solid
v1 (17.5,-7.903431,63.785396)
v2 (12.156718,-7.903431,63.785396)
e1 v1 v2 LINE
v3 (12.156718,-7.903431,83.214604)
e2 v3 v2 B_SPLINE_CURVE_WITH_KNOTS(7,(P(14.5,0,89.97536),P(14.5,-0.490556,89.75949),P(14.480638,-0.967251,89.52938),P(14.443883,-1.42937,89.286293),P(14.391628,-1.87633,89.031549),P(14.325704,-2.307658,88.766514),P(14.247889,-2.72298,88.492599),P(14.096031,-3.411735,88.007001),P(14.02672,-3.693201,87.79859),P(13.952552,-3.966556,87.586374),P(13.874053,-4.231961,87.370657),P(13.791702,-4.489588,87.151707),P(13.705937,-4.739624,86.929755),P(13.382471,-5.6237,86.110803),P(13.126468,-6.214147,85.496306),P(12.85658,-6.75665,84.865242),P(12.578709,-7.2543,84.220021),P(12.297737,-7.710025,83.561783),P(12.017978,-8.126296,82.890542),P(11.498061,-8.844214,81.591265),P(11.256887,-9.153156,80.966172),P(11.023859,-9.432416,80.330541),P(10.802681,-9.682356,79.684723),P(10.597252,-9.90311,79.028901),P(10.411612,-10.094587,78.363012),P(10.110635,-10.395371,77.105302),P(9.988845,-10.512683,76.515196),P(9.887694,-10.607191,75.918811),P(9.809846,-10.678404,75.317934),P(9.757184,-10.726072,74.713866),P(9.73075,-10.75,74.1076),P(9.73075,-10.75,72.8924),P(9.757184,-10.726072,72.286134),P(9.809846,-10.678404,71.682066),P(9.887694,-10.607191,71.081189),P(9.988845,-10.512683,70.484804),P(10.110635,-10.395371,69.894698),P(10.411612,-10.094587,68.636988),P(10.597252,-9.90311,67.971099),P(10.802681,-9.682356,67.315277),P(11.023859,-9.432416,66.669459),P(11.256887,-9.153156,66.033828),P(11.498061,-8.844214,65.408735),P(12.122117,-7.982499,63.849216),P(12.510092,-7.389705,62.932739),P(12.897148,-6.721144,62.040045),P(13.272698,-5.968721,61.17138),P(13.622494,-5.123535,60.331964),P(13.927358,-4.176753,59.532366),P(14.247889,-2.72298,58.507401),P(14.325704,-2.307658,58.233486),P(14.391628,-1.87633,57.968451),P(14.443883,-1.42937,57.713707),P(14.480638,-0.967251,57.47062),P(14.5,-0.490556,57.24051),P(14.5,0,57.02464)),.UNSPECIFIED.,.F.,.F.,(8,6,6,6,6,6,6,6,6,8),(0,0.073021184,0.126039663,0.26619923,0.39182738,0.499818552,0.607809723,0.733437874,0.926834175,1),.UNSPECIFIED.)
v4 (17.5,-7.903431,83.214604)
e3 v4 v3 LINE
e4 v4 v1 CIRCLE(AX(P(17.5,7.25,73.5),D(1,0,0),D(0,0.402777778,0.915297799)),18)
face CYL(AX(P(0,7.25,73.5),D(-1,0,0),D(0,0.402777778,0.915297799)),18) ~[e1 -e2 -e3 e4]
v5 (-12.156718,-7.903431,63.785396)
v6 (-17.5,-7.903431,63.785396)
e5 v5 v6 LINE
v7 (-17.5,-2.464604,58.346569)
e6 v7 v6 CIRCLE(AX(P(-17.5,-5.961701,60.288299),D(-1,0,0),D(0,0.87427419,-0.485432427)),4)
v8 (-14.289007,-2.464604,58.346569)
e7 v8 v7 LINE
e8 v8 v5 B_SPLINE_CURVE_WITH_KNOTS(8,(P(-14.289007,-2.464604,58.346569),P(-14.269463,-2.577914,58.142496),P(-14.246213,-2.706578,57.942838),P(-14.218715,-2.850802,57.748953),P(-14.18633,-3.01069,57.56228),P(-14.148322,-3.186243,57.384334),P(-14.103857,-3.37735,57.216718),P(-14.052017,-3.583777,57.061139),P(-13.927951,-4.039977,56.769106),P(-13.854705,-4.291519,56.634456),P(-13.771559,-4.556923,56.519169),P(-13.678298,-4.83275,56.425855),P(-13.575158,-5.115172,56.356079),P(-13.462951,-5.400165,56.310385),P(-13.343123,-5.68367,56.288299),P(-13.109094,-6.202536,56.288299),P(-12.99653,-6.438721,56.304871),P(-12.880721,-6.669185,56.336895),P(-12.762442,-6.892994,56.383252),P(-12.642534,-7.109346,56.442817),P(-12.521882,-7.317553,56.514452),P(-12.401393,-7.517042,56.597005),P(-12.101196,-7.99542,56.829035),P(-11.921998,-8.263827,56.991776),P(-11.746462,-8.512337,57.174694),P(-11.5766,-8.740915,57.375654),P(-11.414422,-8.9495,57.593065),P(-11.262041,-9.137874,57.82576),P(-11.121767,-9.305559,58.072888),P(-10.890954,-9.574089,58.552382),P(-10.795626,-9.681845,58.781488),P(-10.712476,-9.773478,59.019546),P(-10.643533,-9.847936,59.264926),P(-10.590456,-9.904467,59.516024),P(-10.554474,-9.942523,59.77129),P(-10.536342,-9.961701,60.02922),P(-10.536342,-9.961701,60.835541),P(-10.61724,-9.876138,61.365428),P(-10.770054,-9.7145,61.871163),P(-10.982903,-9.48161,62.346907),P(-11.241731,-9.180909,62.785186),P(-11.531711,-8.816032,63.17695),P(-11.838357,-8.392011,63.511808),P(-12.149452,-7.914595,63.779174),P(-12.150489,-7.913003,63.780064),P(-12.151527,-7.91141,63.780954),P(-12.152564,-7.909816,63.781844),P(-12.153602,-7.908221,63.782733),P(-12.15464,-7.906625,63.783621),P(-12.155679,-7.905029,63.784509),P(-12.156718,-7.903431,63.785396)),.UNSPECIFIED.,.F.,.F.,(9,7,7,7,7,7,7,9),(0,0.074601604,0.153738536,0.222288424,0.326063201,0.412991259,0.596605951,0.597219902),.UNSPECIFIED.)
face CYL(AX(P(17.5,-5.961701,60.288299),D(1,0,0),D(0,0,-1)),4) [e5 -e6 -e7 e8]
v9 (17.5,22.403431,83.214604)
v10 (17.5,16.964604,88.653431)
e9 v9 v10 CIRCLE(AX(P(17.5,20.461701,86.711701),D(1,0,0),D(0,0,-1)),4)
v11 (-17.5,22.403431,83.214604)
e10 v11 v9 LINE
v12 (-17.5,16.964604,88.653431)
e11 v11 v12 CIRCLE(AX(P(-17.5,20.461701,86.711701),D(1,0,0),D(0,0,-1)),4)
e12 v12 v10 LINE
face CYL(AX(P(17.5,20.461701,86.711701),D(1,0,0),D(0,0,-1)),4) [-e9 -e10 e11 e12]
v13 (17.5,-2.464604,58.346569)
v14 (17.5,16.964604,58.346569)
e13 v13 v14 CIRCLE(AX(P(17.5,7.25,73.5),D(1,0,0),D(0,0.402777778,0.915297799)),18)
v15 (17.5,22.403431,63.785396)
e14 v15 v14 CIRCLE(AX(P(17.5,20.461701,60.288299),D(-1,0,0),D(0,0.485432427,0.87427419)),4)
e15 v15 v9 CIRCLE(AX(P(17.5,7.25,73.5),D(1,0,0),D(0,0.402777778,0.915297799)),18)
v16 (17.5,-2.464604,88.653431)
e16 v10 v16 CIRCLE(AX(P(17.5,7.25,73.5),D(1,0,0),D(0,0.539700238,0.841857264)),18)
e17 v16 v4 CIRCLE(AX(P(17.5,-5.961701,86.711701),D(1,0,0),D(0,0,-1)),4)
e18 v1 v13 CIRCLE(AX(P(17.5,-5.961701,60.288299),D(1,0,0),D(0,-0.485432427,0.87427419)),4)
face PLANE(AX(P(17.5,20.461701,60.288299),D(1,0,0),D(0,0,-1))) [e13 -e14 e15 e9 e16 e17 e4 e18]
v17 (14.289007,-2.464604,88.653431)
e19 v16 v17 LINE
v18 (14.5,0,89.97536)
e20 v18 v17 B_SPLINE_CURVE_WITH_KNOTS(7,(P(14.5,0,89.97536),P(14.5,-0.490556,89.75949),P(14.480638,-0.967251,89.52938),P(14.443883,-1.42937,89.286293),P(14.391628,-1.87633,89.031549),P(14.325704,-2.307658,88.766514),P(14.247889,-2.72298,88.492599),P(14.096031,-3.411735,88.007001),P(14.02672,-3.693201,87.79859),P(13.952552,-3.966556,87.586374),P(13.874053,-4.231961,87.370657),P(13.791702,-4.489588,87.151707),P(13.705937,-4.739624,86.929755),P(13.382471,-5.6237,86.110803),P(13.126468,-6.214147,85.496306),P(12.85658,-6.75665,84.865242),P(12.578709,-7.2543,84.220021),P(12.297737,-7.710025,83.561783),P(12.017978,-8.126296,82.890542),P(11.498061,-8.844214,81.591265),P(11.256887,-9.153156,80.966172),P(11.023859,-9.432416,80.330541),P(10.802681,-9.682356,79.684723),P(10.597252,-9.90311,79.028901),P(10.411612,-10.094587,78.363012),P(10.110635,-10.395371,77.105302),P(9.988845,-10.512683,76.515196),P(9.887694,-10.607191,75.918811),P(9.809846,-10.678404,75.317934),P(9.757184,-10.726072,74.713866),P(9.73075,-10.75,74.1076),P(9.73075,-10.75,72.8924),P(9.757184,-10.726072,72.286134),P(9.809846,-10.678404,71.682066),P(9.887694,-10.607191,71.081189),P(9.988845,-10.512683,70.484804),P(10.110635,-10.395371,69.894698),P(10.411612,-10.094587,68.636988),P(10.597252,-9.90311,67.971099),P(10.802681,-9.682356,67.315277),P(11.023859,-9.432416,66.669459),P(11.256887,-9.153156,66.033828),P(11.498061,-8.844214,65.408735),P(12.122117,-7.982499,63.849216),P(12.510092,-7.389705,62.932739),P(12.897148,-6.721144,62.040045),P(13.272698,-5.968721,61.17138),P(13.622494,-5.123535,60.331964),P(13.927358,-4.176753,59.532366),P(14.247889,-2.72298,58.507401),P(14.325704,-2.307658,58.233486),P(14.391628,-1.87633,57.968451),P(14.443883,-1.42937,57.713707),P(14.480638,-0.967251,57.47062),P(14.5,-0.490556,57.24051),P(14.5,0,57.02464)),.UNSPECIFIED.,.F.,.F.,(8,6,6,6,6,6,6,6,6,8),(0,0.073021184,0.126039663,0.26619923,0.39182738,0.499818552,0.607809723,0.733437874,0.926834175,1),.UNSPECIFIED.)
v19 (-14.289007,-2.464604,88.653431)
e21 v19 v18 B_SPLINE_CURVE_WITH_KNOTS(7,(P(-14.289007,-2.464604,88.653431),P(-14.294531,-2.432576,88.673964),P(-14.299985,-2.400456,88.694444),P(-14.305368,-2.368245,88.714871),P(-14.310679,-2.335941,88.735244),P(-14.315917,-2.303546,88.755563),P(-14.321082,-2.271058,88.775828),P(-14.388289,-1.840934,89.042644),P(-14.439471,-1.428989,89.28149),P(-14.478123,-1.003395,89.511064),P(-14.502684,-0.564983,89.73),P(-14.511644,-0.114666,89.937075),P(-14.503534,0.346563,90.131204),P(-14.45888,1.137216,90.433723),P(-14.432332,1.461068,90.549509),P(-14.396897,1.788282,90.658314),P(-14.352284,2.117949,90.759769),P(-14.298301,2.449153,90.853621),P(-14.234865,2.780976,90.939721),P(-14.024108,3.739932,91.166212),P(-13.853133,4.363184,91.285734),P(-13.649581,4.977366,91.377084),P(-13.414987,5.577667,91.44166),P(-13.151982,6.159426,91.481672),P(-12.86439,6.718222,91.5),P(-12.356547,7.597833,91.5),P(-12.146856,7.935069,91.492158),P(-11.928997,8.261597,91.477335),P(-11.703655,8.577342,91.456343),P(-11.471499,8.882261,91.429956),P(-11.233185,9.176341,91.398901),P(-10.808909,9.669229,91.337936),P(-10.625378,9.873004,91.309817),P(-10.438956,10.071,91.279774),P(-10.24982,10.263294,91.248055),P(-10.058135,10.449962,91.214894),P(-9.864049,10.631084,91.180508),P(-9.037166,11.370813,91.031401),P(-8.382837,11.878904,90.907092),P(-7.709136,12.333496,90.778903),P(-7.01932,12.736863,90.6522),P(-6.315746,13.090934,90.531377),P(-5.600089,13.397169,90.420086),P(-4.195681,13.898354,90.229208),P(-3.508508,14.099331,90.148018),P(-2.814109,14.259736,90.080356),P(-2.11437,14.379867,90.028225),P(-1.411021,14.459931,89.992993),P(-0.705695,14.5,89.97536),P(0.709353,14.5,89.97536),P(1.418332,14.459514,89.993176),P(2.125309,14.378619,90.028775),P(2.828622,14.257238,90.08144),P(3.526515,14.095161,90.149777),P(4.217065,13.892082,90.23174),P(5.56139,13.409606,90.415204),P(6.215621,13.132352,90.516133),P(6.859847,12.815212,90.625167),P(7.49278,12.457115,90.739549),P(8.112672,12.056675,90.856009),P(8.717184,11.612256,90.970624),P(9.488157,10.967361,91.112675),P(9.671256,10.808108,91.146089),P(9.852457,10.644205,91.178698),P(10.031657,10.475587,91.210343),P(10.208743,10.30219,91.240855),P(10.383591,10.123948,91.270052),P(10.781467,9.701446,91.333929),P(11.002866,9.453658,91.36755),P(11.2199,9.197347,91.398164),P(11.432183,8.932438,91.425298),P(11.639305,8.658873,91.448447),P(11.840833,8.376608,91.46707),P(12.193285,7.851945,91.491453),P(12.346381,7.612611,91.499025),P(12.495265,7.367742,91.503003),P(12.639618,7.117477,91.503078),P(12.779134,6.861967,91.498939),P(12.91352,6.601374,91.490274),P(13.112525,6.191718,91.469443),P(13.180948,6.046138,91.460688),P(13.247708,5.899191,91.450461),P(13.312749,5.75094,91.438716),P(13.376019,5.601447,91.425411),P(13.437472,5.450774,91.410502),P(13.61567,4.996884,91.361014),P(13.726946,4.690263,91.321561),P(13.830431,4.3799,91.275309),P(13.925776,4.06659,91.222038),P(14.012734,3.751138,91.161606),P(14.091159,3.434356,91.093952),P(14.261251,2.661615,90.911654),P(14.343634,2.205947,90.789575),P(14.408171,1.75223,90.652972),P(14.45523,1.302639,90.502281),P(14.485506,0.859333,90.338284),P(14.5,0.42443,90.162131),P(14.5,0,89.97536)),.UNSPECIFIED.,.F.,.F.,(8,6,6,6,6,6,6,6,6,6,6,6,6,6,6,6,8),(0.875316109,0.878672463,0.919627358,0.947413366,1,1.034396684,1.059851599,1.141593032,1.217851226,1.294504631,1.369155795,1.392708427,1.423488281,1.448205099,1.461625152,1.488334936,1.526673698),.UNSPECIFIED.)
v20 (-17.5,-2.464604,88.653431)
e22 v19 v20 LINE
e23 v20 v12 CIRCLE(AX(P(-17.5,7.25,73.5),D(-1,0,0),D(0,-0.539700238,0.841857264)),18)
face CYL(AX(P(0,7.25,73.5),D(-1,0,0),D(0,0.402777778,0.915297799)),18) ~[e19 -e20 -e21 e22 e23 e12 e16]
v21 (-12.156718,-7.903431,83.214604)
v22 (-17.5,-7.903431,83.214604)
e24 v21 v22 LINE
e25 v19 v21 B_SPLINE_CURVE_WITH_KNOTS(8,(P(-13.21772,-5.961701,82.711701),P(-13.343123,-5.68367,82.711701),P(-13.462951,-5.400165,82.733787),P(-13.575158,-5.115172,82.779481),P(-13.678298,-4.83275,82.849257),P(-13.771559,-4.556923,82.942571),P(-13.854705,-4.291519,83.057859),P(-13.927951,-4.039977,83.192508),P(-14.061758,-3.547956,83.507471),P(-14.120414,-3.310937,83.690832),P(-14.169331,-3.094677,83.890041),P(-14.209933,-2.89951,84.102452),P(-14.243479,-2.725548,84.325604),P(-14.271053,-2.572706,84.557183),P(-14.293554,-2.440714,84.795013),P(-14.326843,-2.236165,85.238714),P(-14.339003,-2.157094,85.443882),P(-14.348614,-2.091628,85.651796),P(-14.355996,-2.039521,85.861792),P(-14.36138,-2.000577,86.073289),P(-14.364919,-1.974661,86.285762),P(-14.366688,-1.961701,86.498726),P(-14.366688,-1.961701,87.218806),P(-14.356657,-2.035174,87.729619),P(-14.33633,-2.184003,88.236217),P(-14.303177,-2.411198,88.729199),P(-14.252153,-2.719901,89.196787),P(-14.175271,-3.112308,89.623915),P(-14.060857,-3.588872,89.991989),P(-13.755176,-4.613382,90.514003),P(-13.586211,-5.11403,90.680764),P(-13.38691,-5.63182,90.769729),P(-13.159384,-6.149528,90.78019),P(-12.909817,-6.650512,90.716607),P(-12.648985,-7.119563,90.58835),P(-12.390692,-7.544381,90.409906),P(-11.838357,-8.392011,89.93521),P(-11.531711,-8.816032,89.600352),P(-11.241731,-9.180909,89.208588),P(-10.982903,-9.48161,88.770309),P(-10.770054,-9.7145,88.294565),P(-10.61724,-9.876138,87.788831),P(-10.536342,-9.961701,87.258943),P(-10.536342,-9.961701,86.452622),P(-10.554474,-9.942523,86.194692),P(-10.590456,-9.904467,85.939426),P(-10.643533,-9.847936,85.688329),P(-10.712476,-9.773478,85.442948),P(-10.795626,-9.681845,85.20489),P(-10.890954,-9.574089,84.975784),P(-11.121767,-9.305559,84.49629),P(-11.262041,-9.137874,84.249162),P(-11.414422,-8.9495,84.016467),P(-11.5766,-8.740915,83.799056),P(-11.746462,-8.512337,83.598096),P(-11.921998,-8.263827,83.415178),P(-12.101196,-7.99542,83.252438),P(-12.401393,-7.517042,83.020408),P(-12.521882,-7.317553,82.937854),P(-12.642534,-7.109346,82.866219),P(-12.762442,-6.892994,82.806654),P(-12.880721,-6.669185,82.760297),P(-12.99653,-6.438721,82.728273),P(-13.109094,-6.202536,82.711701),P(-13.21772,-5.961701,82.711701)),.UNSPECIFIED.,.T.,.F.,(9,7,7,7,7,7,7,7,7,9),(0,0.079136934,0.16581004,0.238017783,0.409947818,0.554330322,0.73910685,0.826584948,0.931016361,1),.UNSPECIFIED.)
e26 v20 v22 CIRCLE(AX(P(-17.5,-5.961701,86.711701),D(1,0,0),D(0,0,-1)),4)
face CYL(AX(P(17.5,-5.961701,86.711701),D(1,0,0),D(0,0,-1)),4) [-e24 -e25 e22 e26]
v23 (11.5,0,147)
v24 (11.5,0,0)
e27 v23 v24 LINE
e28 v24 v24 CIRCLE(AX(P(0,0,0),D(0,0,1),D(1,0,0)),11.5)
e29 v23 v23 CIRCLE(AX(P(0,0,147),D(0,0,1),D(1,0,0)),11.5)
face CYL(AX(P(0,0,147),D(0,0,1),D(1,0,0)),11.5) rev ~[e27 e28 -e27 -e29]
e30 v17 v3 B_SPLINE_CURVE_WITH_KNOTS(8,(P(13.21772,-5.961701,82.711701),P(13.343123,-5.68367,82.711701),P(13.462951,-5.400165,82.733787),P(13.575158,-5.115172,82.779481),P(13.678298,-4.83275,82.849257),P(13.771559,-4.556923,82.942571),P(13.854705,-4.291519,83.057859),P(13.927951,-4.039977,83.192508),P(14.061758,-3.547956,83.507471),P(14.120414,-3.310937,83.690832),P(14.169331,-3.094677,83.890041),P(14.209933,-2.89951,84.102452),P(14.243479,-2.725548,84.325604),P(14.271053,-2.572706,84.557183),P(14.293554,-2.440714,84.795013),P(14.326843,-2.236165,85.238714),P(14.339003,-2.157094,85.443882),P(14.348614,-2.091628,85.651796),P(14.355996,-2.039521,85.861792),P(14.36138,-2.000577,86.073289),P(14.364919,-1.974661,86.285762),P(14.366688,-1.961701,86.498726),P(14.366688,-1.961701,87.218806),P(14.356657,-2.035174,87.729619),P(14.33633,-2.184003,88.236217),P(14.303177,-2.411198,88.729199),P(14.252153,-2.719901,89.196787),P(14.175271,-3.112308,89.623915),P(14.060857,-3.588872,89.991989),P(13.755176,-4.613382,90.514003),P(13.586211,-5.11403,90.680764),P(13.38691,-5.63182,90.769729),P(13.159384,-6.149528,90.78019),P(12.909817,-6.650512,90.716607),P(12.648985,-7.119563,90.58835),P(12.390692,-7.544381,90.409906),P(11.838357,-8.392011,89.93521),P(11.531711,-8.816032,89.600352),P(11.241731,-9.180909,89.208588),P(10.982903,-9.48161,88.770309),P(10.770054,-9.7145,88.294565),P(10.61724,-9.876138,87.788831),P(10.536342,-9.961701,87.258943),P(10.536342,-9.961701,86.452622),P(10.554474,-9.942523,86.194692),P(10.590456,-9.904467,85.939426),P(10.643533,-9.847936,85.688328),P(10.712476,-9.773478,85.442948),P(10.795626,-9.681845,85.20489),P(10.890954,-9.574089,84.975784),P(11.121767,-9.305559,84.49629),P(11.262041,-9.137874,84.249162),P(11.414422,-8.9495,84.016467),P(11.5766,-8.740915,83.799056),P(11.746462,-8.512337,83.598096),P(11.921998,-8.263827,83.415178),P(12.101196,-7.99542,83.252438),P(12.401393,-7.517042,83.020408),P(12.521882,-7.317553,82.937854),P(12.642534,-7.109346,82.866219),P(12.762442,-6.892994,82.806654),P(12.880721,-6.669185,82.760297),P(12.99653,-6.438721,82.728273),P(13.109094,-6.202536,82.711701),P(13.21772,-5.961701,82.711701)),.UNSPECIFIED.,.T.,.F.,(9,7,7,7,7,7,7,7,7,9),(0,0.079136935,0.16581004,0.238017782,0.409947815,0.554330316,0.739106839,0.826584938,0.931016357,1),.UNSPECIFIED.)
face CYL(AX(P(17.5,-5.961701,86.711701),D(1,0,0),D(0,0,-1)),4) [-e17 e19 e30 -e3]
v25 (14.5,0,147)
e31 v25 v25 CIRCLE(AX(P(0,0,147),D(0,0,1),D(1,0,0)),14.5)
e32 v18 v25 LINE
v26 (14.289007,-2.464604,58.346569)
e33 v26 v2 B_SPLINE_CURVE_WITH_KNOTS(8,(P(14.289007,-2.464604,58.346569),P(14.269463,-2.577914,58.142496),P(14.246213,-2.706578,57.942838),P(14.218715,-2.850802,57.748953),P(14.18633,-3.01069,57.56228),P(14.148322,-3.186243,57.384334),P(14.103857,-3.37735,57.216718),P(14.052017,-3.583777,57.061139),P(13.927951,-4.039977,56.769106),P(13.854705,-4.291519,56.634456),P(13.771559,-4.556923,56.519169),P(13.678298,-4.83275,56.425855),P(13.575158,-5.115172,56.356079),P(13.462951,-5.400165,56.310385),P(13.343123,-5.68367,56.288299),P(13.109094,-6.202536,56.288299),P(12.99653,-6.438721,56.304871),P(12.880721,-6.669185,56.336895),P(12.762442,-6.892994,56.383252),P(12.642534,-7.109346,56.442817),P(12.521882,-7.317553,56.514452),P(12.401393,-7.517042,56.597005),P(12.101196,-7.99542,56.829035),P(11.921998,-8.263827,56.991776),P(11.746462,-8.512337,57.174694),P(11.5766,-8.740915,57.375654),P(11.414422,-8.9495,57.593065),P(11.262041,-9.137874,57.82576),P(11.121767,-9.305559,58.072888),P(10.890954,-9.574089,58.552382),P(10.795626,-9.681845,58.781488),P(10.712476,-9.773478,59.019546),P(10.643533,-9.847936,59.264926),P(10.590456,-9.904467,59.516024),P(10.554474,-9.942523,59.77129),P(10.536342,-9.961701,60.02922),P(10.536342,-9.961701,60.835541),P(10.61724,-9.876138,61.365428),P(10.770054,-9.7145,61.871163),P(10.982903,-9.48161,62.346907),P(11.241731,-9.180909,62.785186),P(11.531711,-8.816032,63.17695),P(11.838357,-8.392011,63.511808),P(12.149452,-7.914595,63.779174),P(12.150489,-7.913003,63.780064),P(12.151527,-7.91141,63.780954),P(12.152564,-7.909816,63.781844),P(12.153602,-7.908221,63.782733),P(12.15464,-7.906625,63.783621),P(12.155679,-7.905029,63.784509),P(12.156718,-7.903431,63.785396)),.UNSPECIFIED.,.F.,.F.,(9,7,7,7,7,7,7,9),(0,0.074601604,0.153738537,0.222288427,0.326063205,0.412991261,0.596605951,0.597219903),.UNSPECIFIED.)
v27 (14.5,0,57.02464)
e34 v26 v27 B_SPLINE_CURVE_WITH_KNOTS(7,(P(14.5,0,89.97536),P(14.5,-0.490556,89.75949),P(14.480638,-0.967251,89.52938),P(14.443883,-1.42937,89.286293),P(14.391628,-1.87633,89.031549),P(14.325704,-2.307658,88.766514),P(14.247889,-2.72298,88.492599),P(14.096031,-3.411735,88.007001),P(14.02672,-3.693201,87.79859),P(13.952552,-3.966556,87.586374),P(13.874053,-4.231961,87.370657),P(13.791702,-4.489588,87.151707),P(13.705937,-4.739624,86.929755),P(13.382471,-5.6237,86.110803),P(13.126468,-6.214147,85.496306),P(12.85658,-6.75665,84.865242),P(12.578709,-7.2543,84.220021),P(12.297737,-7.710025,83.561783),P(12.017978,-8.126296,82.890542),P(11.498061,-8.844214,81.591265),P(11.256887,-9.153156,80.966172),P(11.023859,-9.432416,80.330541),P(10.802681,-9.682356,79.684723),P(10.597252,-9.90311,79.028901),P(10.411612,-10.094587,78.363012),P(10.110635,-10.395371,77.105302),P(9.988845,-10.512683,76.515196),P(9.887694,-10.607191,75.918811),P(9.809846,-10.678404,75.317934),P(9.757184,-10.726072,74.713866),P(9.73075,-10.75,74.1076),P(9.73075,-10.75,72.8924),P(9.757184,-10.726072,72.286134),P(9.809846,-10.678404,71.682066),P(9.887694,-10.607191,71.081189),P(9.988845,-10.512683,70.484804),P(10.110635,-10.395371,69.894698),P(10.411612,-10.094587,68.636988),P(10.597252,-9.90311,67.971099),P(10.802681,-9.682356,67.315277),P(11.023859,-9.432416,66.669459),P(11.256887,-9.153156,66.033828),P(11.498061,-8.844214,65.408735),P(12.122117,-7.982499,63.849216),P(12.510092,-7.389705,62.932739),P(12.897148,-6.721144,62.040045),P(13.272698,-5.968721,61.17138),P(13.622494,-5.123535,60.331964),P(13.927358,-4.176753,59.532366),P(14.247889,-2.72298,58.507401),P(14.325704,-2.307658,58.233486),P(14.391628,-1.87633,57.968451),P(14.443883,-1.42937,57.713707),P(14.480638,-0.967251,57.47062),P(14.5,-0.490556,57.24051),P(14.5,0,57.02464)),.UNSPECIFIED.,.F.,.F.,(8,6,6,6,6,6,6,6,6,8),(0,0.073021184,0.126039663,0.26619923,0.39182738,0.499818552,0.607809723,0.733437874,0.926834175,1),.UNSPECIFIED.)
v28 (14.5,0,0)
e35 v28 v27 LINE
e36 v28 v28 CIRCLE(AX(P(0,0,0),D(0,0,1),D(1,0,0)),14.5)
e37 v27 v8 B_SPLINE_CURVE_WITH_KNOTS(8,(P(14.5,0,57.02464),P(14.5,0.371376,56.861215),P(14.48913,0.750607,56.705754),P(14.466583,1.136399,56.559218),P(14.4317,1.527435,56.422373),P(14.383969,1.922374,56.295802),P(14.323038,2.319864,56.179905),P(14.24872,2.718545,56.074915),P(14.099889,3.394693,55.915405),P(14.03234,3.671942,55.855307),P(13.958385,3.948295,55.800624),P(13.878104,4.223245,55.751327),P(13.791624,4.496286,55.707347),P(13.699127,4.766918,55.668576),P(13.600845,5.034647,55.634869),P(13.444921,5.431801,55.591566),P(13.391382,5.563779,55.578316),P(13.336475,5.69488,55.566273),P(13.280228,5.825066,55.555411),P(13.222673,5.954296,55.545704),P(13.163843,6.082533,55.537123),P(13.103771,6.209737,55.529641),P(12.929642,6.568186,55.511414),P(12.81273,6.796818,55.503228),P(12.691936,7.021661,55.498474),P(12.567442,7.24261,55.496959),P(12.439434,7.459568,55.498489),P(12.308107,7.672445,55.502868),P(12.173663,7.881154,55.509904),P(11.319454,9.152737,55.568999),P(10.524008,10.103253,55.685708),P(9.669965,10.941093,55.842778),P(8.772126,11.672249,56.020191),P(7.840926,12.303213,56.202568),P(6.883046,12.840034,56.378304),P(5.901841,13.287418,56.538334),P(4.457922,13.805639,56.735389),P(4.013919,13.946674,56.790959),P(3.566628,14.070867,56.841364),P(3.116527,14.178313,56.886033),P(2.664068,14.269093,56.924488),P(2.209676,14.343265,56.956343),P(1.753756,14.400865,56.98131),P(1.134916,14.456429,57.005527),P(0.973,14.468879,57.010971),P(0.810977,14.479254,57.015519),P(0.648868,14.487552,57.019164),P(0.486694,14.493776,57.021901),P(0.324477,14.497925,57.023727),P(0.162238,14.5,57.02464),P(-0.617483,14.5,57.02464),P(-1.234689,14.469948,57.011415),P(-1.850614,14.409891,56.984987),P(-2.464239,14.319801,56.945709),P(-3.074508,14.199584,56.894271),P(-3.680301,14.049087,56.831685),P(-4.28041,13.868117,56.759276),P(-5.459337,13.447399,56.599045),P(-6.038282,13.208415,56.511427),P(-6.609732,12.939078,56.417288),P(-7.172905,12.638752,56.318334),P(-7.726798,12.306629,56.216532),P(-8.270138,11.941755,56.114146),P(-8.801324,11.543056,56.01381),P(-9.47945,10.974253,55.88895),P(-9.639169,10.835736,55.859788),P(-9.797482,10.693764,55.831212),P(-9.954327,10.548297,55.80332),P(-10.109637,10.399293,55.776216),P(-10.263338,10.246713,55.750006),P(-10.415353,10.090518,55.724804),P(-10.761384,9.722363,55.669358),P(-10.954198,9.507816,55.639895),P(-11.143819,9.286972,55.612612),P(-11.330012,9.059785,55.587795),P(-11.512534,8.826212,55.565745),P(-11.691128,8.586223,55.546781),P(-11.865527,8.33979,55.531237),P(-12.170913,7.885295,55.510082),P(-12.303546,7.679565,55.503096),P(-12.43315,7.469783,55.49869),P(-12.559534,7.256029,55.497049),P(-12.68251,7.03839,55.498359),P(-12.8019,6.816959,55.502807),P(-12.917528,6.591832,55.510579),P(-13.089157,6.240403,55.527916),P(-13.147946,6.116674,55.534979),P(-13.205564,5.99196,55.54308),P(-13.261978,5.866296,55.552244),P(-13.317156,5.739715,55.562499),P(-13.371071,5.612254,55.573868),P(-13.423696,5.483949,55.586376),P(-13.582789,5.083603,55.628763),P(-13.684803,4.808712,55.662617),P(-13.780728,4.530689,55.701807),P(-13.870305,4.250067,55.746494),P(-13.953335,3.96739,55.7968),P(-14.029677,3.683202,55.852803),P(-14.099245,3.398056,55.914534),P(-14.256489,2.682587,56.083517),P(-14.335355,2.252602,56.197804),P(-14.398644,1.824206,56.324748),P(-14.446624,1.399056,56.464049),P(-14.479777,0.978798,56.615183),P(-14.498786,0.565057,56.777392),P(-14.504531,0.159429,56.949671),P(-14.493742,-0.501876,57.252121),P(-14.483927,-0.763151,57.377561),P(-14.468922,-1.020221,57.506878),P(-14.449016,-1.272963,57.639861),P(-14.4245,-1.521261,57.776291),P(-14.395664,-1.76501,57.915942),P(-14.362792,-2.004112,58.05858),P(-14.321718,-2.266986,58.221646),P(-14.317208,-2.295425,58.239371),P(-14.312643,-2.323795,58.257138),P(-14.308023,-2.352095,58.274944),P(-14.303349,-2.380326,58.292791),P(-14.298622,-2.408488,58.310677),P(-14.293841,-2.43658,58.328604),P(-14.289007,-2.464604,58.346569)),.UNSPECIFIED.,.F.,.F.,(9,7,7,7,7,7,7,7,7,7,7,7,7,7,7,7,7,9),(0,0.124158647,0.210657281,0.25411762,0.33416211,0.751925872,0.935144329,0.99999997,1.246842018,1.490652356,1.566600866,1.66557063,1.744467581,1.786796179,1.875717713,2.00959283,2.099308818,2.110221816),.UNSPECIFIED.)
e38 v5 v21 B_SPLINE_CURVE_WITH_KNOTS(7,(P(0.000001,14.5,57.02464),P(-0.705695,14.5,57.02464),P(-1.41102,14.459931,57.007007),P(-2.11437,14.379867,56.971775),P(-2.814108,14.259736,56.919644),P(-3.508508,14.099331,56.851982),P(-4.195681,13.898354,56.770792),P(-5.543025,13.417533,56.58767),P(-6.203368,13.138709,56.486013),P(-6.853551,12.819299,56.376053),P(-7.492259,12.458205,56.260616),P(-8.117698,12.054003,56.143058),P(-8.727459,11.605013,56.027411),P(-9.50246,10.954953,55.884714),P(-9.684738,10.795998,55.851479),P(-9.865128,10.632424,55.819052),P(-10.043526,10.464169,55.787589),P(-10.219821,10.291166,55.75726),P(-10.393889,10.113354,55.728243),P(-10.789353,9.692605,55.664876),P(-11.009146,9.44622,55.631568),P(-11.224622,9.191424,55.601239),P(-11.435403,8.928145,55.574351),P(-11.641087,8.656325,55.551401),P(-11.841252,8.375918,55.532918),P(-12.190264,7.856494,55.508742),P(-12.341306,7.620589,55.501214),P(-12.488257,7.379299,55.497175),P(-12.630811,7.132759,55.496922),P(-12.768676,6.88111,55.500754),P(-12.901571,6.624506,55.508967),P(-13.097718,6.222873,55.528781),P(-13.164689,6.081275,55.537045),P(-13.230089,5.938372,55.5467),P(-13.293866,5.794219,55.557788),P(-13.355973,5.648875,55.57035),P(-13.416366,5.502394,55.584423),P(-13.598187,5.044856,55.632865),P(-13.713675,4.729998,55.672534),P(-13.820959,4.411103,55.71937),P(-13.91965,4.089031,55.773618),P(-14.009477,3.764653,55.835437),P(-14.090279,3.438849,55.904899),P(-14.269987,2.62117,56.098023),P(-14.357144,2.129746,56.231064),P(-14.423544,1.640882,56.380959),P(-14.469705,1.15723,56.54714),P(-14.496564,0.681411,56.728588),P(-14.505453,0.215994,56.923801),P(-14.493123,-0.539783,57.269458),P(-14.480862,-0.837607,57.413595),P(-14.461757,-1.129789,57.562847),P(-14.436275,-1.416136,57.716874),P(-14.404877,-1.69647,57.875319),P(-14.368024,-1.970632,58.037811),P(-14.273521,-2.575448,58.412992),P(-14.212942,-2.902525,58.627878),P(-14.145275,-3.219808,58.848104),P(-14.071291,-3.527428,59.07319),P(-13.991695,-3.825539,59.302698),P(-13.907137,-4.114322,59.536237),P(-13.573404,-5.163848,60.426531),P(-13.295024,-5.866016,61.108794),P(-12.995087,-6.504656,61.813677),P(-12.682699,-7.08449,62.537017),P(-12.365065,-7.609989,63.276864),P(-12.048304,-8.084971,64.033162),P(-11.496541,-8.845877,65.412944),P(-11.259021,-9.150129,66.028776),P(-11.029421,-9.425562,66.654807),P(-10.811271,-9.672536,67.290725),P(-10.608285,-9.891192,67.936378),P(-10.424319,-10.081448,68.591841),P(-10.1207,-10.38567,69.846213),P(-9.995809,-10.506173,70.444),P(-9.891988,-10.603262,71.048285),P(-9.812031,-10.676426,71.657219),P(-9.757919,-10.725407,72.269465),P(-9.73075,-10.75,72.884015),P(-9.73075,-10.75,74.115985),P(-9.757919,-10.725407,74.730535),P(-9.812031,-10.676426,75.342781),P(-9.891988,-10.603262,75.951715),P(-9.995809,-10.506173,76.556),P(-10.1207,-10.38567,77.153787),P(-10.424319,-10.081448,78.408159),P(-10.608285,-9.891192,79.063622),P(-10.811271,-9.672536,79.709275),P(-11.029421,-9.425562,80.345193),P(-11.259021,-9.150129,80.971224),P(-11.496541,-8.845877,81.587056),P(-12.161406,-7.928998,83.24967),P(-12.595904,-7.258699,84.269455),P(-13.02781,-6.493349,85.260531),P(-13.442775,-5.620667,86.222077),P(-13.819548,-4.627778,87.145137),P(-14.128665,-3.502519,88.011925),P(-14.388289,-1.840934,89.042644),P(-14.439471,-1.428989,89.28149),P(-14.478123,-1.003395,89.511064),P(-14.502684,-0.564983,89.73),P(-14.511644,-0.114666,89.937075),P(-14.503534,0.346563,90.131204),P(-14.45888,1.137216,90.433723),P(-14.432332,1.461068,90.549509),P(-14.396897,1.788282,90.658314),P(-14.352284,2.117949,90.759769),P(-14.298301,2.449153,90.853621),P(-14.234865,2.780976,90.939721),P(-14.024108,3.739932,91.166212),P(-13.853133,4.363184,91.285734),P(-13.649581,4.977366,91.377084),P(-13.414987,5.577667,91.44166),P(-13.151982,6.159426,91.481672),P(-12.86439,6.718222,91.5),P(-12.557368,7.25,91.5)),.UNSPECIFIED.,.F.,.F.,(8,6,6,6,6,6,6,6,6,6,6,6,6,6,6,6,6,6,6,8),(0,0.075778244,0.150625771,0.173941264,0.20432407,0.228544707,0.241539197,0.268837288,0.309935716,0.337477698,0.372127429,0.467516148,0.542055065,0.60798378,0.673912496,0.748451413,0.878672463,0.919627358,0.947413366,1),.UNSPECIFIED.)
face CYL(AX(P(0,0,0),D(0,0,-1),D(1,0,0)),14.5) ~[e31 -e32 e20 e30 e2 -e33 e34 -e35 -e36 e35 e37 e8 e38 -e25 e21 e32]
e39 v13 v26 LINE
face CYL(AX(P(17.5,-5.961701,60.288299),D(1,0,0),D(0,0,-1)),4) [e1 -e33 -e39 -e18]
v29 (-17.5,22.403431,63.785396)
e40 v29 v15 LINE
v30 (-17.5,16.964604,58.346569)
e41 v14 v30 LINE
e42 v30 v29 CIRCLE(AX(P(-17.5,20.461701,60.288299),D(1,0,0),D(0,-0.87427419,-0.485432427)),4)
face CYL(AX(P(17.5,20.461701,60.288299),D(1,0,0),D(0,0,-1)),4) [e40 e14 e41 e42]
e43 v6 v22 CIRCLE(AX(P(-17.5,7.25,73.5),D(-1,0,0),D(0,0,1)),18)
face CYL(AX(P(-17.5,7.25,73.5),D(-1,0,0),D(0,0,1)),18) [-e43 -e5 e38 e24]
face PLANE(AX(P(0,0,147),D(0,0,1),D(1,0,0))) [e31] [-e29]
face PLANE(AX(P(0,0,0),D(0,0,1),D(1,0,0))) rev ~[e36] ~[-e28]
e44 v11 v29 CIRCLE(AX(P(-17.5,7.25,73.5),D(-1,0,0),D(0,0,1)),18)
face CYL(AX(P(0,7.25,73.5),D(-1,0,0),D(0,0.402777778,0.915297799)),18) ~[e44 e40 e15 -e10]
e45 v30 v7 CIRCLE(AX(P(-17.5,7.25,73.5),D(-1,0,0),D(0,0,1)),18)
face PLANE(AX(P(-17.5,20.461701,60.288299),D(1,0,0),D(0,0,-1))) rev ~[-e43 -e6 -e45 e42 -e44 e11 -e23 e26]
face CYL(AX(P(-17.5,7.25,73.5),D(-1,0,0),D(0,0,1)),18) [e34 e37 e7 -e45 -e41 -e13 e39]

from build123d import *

# Parameters (mm, degrees)
SKETCH1_R           = 14.5
BOSS_EXTRUDE1_DEPTH = 147
SKETCH3_R           = 18
BOSS_EXTRUDE2_DEPTH = 17.5
BOSS_EXTRUDE3_START = 17.5
SKETCH4_R           = 18
BOSS_EXTRUDE3_DEPTH = 17.5
SKETCH5_R           = 4
BOSS_EXTRUDE4_DEPTH = 35
SKETCH2_R           = 11.5
CUT_EXTRUDE1_DEPTH  = 147


with BuildPart() as part:
    # Sketch1 → Boss-Extrude1 (new body)
    with BuildSketch(Plane.XY):
        Circle(SKETCH1_R)
    extrude(amount=BOSS_EXTRUDE1_DEPTH)

    # Sketch3 → Boss-Extrude2 (add)
    with BuildSketch(Plane(origin=(0, 0, 0), x_dir=(0, 0, -1), z_dir=(1, 0, 0))):
        with Locations(Location((-73.5, 7.25, 0), (0, 0, 156.248053974))):
            Circle(SKETCH3_R)
    extrude(amount=BOSS_EXTRUDE2_DEPTH)

    # Sketch4 → Boss-Extrude3 (add)
    with BuildSketch(Plane.ZY.offset(BOSS_EXTRUDE3_START)):
        with Locations((73.5, 7.25)):
            Circle(SKETCH4_R)
    extrude(amount=-BOSS_EXTRUDE3_DEPTH)

    # Sketch5 → Boss-Extrude4 (add)
    with BuildSketch(Plane(origin=(17.5, 0, 0), x_dir=(0, 0, -1), z_dir=(1, 0, 0))):
        with Locations((-60.288298956, 20.461701044)):
            Circle(SKETCH5_R)
        with Locations((-86.711701044, 20.461701044)):
            Circle(SKETCH5_R)
        with Locations((-60.288298956, -5.961701044)):
            Circle(SKETCH5_R)
        with Locations((-86.711701044, -5.961701044)):
            Circle(SKETCH5_R)
    extrude(amount=-BOSS_EXTRUDE4_DEPTH)

    # Sketch2 → Cut-Extrude1 (cut)
    with BuildSketch(Plane.XY.offset(147)):
        Circle(SKETCH2_R)
    extrude(amount=-CUT_EXTRUDE1_DEPTH, mode=Mode.SUBTRACT)


solid = part.part
